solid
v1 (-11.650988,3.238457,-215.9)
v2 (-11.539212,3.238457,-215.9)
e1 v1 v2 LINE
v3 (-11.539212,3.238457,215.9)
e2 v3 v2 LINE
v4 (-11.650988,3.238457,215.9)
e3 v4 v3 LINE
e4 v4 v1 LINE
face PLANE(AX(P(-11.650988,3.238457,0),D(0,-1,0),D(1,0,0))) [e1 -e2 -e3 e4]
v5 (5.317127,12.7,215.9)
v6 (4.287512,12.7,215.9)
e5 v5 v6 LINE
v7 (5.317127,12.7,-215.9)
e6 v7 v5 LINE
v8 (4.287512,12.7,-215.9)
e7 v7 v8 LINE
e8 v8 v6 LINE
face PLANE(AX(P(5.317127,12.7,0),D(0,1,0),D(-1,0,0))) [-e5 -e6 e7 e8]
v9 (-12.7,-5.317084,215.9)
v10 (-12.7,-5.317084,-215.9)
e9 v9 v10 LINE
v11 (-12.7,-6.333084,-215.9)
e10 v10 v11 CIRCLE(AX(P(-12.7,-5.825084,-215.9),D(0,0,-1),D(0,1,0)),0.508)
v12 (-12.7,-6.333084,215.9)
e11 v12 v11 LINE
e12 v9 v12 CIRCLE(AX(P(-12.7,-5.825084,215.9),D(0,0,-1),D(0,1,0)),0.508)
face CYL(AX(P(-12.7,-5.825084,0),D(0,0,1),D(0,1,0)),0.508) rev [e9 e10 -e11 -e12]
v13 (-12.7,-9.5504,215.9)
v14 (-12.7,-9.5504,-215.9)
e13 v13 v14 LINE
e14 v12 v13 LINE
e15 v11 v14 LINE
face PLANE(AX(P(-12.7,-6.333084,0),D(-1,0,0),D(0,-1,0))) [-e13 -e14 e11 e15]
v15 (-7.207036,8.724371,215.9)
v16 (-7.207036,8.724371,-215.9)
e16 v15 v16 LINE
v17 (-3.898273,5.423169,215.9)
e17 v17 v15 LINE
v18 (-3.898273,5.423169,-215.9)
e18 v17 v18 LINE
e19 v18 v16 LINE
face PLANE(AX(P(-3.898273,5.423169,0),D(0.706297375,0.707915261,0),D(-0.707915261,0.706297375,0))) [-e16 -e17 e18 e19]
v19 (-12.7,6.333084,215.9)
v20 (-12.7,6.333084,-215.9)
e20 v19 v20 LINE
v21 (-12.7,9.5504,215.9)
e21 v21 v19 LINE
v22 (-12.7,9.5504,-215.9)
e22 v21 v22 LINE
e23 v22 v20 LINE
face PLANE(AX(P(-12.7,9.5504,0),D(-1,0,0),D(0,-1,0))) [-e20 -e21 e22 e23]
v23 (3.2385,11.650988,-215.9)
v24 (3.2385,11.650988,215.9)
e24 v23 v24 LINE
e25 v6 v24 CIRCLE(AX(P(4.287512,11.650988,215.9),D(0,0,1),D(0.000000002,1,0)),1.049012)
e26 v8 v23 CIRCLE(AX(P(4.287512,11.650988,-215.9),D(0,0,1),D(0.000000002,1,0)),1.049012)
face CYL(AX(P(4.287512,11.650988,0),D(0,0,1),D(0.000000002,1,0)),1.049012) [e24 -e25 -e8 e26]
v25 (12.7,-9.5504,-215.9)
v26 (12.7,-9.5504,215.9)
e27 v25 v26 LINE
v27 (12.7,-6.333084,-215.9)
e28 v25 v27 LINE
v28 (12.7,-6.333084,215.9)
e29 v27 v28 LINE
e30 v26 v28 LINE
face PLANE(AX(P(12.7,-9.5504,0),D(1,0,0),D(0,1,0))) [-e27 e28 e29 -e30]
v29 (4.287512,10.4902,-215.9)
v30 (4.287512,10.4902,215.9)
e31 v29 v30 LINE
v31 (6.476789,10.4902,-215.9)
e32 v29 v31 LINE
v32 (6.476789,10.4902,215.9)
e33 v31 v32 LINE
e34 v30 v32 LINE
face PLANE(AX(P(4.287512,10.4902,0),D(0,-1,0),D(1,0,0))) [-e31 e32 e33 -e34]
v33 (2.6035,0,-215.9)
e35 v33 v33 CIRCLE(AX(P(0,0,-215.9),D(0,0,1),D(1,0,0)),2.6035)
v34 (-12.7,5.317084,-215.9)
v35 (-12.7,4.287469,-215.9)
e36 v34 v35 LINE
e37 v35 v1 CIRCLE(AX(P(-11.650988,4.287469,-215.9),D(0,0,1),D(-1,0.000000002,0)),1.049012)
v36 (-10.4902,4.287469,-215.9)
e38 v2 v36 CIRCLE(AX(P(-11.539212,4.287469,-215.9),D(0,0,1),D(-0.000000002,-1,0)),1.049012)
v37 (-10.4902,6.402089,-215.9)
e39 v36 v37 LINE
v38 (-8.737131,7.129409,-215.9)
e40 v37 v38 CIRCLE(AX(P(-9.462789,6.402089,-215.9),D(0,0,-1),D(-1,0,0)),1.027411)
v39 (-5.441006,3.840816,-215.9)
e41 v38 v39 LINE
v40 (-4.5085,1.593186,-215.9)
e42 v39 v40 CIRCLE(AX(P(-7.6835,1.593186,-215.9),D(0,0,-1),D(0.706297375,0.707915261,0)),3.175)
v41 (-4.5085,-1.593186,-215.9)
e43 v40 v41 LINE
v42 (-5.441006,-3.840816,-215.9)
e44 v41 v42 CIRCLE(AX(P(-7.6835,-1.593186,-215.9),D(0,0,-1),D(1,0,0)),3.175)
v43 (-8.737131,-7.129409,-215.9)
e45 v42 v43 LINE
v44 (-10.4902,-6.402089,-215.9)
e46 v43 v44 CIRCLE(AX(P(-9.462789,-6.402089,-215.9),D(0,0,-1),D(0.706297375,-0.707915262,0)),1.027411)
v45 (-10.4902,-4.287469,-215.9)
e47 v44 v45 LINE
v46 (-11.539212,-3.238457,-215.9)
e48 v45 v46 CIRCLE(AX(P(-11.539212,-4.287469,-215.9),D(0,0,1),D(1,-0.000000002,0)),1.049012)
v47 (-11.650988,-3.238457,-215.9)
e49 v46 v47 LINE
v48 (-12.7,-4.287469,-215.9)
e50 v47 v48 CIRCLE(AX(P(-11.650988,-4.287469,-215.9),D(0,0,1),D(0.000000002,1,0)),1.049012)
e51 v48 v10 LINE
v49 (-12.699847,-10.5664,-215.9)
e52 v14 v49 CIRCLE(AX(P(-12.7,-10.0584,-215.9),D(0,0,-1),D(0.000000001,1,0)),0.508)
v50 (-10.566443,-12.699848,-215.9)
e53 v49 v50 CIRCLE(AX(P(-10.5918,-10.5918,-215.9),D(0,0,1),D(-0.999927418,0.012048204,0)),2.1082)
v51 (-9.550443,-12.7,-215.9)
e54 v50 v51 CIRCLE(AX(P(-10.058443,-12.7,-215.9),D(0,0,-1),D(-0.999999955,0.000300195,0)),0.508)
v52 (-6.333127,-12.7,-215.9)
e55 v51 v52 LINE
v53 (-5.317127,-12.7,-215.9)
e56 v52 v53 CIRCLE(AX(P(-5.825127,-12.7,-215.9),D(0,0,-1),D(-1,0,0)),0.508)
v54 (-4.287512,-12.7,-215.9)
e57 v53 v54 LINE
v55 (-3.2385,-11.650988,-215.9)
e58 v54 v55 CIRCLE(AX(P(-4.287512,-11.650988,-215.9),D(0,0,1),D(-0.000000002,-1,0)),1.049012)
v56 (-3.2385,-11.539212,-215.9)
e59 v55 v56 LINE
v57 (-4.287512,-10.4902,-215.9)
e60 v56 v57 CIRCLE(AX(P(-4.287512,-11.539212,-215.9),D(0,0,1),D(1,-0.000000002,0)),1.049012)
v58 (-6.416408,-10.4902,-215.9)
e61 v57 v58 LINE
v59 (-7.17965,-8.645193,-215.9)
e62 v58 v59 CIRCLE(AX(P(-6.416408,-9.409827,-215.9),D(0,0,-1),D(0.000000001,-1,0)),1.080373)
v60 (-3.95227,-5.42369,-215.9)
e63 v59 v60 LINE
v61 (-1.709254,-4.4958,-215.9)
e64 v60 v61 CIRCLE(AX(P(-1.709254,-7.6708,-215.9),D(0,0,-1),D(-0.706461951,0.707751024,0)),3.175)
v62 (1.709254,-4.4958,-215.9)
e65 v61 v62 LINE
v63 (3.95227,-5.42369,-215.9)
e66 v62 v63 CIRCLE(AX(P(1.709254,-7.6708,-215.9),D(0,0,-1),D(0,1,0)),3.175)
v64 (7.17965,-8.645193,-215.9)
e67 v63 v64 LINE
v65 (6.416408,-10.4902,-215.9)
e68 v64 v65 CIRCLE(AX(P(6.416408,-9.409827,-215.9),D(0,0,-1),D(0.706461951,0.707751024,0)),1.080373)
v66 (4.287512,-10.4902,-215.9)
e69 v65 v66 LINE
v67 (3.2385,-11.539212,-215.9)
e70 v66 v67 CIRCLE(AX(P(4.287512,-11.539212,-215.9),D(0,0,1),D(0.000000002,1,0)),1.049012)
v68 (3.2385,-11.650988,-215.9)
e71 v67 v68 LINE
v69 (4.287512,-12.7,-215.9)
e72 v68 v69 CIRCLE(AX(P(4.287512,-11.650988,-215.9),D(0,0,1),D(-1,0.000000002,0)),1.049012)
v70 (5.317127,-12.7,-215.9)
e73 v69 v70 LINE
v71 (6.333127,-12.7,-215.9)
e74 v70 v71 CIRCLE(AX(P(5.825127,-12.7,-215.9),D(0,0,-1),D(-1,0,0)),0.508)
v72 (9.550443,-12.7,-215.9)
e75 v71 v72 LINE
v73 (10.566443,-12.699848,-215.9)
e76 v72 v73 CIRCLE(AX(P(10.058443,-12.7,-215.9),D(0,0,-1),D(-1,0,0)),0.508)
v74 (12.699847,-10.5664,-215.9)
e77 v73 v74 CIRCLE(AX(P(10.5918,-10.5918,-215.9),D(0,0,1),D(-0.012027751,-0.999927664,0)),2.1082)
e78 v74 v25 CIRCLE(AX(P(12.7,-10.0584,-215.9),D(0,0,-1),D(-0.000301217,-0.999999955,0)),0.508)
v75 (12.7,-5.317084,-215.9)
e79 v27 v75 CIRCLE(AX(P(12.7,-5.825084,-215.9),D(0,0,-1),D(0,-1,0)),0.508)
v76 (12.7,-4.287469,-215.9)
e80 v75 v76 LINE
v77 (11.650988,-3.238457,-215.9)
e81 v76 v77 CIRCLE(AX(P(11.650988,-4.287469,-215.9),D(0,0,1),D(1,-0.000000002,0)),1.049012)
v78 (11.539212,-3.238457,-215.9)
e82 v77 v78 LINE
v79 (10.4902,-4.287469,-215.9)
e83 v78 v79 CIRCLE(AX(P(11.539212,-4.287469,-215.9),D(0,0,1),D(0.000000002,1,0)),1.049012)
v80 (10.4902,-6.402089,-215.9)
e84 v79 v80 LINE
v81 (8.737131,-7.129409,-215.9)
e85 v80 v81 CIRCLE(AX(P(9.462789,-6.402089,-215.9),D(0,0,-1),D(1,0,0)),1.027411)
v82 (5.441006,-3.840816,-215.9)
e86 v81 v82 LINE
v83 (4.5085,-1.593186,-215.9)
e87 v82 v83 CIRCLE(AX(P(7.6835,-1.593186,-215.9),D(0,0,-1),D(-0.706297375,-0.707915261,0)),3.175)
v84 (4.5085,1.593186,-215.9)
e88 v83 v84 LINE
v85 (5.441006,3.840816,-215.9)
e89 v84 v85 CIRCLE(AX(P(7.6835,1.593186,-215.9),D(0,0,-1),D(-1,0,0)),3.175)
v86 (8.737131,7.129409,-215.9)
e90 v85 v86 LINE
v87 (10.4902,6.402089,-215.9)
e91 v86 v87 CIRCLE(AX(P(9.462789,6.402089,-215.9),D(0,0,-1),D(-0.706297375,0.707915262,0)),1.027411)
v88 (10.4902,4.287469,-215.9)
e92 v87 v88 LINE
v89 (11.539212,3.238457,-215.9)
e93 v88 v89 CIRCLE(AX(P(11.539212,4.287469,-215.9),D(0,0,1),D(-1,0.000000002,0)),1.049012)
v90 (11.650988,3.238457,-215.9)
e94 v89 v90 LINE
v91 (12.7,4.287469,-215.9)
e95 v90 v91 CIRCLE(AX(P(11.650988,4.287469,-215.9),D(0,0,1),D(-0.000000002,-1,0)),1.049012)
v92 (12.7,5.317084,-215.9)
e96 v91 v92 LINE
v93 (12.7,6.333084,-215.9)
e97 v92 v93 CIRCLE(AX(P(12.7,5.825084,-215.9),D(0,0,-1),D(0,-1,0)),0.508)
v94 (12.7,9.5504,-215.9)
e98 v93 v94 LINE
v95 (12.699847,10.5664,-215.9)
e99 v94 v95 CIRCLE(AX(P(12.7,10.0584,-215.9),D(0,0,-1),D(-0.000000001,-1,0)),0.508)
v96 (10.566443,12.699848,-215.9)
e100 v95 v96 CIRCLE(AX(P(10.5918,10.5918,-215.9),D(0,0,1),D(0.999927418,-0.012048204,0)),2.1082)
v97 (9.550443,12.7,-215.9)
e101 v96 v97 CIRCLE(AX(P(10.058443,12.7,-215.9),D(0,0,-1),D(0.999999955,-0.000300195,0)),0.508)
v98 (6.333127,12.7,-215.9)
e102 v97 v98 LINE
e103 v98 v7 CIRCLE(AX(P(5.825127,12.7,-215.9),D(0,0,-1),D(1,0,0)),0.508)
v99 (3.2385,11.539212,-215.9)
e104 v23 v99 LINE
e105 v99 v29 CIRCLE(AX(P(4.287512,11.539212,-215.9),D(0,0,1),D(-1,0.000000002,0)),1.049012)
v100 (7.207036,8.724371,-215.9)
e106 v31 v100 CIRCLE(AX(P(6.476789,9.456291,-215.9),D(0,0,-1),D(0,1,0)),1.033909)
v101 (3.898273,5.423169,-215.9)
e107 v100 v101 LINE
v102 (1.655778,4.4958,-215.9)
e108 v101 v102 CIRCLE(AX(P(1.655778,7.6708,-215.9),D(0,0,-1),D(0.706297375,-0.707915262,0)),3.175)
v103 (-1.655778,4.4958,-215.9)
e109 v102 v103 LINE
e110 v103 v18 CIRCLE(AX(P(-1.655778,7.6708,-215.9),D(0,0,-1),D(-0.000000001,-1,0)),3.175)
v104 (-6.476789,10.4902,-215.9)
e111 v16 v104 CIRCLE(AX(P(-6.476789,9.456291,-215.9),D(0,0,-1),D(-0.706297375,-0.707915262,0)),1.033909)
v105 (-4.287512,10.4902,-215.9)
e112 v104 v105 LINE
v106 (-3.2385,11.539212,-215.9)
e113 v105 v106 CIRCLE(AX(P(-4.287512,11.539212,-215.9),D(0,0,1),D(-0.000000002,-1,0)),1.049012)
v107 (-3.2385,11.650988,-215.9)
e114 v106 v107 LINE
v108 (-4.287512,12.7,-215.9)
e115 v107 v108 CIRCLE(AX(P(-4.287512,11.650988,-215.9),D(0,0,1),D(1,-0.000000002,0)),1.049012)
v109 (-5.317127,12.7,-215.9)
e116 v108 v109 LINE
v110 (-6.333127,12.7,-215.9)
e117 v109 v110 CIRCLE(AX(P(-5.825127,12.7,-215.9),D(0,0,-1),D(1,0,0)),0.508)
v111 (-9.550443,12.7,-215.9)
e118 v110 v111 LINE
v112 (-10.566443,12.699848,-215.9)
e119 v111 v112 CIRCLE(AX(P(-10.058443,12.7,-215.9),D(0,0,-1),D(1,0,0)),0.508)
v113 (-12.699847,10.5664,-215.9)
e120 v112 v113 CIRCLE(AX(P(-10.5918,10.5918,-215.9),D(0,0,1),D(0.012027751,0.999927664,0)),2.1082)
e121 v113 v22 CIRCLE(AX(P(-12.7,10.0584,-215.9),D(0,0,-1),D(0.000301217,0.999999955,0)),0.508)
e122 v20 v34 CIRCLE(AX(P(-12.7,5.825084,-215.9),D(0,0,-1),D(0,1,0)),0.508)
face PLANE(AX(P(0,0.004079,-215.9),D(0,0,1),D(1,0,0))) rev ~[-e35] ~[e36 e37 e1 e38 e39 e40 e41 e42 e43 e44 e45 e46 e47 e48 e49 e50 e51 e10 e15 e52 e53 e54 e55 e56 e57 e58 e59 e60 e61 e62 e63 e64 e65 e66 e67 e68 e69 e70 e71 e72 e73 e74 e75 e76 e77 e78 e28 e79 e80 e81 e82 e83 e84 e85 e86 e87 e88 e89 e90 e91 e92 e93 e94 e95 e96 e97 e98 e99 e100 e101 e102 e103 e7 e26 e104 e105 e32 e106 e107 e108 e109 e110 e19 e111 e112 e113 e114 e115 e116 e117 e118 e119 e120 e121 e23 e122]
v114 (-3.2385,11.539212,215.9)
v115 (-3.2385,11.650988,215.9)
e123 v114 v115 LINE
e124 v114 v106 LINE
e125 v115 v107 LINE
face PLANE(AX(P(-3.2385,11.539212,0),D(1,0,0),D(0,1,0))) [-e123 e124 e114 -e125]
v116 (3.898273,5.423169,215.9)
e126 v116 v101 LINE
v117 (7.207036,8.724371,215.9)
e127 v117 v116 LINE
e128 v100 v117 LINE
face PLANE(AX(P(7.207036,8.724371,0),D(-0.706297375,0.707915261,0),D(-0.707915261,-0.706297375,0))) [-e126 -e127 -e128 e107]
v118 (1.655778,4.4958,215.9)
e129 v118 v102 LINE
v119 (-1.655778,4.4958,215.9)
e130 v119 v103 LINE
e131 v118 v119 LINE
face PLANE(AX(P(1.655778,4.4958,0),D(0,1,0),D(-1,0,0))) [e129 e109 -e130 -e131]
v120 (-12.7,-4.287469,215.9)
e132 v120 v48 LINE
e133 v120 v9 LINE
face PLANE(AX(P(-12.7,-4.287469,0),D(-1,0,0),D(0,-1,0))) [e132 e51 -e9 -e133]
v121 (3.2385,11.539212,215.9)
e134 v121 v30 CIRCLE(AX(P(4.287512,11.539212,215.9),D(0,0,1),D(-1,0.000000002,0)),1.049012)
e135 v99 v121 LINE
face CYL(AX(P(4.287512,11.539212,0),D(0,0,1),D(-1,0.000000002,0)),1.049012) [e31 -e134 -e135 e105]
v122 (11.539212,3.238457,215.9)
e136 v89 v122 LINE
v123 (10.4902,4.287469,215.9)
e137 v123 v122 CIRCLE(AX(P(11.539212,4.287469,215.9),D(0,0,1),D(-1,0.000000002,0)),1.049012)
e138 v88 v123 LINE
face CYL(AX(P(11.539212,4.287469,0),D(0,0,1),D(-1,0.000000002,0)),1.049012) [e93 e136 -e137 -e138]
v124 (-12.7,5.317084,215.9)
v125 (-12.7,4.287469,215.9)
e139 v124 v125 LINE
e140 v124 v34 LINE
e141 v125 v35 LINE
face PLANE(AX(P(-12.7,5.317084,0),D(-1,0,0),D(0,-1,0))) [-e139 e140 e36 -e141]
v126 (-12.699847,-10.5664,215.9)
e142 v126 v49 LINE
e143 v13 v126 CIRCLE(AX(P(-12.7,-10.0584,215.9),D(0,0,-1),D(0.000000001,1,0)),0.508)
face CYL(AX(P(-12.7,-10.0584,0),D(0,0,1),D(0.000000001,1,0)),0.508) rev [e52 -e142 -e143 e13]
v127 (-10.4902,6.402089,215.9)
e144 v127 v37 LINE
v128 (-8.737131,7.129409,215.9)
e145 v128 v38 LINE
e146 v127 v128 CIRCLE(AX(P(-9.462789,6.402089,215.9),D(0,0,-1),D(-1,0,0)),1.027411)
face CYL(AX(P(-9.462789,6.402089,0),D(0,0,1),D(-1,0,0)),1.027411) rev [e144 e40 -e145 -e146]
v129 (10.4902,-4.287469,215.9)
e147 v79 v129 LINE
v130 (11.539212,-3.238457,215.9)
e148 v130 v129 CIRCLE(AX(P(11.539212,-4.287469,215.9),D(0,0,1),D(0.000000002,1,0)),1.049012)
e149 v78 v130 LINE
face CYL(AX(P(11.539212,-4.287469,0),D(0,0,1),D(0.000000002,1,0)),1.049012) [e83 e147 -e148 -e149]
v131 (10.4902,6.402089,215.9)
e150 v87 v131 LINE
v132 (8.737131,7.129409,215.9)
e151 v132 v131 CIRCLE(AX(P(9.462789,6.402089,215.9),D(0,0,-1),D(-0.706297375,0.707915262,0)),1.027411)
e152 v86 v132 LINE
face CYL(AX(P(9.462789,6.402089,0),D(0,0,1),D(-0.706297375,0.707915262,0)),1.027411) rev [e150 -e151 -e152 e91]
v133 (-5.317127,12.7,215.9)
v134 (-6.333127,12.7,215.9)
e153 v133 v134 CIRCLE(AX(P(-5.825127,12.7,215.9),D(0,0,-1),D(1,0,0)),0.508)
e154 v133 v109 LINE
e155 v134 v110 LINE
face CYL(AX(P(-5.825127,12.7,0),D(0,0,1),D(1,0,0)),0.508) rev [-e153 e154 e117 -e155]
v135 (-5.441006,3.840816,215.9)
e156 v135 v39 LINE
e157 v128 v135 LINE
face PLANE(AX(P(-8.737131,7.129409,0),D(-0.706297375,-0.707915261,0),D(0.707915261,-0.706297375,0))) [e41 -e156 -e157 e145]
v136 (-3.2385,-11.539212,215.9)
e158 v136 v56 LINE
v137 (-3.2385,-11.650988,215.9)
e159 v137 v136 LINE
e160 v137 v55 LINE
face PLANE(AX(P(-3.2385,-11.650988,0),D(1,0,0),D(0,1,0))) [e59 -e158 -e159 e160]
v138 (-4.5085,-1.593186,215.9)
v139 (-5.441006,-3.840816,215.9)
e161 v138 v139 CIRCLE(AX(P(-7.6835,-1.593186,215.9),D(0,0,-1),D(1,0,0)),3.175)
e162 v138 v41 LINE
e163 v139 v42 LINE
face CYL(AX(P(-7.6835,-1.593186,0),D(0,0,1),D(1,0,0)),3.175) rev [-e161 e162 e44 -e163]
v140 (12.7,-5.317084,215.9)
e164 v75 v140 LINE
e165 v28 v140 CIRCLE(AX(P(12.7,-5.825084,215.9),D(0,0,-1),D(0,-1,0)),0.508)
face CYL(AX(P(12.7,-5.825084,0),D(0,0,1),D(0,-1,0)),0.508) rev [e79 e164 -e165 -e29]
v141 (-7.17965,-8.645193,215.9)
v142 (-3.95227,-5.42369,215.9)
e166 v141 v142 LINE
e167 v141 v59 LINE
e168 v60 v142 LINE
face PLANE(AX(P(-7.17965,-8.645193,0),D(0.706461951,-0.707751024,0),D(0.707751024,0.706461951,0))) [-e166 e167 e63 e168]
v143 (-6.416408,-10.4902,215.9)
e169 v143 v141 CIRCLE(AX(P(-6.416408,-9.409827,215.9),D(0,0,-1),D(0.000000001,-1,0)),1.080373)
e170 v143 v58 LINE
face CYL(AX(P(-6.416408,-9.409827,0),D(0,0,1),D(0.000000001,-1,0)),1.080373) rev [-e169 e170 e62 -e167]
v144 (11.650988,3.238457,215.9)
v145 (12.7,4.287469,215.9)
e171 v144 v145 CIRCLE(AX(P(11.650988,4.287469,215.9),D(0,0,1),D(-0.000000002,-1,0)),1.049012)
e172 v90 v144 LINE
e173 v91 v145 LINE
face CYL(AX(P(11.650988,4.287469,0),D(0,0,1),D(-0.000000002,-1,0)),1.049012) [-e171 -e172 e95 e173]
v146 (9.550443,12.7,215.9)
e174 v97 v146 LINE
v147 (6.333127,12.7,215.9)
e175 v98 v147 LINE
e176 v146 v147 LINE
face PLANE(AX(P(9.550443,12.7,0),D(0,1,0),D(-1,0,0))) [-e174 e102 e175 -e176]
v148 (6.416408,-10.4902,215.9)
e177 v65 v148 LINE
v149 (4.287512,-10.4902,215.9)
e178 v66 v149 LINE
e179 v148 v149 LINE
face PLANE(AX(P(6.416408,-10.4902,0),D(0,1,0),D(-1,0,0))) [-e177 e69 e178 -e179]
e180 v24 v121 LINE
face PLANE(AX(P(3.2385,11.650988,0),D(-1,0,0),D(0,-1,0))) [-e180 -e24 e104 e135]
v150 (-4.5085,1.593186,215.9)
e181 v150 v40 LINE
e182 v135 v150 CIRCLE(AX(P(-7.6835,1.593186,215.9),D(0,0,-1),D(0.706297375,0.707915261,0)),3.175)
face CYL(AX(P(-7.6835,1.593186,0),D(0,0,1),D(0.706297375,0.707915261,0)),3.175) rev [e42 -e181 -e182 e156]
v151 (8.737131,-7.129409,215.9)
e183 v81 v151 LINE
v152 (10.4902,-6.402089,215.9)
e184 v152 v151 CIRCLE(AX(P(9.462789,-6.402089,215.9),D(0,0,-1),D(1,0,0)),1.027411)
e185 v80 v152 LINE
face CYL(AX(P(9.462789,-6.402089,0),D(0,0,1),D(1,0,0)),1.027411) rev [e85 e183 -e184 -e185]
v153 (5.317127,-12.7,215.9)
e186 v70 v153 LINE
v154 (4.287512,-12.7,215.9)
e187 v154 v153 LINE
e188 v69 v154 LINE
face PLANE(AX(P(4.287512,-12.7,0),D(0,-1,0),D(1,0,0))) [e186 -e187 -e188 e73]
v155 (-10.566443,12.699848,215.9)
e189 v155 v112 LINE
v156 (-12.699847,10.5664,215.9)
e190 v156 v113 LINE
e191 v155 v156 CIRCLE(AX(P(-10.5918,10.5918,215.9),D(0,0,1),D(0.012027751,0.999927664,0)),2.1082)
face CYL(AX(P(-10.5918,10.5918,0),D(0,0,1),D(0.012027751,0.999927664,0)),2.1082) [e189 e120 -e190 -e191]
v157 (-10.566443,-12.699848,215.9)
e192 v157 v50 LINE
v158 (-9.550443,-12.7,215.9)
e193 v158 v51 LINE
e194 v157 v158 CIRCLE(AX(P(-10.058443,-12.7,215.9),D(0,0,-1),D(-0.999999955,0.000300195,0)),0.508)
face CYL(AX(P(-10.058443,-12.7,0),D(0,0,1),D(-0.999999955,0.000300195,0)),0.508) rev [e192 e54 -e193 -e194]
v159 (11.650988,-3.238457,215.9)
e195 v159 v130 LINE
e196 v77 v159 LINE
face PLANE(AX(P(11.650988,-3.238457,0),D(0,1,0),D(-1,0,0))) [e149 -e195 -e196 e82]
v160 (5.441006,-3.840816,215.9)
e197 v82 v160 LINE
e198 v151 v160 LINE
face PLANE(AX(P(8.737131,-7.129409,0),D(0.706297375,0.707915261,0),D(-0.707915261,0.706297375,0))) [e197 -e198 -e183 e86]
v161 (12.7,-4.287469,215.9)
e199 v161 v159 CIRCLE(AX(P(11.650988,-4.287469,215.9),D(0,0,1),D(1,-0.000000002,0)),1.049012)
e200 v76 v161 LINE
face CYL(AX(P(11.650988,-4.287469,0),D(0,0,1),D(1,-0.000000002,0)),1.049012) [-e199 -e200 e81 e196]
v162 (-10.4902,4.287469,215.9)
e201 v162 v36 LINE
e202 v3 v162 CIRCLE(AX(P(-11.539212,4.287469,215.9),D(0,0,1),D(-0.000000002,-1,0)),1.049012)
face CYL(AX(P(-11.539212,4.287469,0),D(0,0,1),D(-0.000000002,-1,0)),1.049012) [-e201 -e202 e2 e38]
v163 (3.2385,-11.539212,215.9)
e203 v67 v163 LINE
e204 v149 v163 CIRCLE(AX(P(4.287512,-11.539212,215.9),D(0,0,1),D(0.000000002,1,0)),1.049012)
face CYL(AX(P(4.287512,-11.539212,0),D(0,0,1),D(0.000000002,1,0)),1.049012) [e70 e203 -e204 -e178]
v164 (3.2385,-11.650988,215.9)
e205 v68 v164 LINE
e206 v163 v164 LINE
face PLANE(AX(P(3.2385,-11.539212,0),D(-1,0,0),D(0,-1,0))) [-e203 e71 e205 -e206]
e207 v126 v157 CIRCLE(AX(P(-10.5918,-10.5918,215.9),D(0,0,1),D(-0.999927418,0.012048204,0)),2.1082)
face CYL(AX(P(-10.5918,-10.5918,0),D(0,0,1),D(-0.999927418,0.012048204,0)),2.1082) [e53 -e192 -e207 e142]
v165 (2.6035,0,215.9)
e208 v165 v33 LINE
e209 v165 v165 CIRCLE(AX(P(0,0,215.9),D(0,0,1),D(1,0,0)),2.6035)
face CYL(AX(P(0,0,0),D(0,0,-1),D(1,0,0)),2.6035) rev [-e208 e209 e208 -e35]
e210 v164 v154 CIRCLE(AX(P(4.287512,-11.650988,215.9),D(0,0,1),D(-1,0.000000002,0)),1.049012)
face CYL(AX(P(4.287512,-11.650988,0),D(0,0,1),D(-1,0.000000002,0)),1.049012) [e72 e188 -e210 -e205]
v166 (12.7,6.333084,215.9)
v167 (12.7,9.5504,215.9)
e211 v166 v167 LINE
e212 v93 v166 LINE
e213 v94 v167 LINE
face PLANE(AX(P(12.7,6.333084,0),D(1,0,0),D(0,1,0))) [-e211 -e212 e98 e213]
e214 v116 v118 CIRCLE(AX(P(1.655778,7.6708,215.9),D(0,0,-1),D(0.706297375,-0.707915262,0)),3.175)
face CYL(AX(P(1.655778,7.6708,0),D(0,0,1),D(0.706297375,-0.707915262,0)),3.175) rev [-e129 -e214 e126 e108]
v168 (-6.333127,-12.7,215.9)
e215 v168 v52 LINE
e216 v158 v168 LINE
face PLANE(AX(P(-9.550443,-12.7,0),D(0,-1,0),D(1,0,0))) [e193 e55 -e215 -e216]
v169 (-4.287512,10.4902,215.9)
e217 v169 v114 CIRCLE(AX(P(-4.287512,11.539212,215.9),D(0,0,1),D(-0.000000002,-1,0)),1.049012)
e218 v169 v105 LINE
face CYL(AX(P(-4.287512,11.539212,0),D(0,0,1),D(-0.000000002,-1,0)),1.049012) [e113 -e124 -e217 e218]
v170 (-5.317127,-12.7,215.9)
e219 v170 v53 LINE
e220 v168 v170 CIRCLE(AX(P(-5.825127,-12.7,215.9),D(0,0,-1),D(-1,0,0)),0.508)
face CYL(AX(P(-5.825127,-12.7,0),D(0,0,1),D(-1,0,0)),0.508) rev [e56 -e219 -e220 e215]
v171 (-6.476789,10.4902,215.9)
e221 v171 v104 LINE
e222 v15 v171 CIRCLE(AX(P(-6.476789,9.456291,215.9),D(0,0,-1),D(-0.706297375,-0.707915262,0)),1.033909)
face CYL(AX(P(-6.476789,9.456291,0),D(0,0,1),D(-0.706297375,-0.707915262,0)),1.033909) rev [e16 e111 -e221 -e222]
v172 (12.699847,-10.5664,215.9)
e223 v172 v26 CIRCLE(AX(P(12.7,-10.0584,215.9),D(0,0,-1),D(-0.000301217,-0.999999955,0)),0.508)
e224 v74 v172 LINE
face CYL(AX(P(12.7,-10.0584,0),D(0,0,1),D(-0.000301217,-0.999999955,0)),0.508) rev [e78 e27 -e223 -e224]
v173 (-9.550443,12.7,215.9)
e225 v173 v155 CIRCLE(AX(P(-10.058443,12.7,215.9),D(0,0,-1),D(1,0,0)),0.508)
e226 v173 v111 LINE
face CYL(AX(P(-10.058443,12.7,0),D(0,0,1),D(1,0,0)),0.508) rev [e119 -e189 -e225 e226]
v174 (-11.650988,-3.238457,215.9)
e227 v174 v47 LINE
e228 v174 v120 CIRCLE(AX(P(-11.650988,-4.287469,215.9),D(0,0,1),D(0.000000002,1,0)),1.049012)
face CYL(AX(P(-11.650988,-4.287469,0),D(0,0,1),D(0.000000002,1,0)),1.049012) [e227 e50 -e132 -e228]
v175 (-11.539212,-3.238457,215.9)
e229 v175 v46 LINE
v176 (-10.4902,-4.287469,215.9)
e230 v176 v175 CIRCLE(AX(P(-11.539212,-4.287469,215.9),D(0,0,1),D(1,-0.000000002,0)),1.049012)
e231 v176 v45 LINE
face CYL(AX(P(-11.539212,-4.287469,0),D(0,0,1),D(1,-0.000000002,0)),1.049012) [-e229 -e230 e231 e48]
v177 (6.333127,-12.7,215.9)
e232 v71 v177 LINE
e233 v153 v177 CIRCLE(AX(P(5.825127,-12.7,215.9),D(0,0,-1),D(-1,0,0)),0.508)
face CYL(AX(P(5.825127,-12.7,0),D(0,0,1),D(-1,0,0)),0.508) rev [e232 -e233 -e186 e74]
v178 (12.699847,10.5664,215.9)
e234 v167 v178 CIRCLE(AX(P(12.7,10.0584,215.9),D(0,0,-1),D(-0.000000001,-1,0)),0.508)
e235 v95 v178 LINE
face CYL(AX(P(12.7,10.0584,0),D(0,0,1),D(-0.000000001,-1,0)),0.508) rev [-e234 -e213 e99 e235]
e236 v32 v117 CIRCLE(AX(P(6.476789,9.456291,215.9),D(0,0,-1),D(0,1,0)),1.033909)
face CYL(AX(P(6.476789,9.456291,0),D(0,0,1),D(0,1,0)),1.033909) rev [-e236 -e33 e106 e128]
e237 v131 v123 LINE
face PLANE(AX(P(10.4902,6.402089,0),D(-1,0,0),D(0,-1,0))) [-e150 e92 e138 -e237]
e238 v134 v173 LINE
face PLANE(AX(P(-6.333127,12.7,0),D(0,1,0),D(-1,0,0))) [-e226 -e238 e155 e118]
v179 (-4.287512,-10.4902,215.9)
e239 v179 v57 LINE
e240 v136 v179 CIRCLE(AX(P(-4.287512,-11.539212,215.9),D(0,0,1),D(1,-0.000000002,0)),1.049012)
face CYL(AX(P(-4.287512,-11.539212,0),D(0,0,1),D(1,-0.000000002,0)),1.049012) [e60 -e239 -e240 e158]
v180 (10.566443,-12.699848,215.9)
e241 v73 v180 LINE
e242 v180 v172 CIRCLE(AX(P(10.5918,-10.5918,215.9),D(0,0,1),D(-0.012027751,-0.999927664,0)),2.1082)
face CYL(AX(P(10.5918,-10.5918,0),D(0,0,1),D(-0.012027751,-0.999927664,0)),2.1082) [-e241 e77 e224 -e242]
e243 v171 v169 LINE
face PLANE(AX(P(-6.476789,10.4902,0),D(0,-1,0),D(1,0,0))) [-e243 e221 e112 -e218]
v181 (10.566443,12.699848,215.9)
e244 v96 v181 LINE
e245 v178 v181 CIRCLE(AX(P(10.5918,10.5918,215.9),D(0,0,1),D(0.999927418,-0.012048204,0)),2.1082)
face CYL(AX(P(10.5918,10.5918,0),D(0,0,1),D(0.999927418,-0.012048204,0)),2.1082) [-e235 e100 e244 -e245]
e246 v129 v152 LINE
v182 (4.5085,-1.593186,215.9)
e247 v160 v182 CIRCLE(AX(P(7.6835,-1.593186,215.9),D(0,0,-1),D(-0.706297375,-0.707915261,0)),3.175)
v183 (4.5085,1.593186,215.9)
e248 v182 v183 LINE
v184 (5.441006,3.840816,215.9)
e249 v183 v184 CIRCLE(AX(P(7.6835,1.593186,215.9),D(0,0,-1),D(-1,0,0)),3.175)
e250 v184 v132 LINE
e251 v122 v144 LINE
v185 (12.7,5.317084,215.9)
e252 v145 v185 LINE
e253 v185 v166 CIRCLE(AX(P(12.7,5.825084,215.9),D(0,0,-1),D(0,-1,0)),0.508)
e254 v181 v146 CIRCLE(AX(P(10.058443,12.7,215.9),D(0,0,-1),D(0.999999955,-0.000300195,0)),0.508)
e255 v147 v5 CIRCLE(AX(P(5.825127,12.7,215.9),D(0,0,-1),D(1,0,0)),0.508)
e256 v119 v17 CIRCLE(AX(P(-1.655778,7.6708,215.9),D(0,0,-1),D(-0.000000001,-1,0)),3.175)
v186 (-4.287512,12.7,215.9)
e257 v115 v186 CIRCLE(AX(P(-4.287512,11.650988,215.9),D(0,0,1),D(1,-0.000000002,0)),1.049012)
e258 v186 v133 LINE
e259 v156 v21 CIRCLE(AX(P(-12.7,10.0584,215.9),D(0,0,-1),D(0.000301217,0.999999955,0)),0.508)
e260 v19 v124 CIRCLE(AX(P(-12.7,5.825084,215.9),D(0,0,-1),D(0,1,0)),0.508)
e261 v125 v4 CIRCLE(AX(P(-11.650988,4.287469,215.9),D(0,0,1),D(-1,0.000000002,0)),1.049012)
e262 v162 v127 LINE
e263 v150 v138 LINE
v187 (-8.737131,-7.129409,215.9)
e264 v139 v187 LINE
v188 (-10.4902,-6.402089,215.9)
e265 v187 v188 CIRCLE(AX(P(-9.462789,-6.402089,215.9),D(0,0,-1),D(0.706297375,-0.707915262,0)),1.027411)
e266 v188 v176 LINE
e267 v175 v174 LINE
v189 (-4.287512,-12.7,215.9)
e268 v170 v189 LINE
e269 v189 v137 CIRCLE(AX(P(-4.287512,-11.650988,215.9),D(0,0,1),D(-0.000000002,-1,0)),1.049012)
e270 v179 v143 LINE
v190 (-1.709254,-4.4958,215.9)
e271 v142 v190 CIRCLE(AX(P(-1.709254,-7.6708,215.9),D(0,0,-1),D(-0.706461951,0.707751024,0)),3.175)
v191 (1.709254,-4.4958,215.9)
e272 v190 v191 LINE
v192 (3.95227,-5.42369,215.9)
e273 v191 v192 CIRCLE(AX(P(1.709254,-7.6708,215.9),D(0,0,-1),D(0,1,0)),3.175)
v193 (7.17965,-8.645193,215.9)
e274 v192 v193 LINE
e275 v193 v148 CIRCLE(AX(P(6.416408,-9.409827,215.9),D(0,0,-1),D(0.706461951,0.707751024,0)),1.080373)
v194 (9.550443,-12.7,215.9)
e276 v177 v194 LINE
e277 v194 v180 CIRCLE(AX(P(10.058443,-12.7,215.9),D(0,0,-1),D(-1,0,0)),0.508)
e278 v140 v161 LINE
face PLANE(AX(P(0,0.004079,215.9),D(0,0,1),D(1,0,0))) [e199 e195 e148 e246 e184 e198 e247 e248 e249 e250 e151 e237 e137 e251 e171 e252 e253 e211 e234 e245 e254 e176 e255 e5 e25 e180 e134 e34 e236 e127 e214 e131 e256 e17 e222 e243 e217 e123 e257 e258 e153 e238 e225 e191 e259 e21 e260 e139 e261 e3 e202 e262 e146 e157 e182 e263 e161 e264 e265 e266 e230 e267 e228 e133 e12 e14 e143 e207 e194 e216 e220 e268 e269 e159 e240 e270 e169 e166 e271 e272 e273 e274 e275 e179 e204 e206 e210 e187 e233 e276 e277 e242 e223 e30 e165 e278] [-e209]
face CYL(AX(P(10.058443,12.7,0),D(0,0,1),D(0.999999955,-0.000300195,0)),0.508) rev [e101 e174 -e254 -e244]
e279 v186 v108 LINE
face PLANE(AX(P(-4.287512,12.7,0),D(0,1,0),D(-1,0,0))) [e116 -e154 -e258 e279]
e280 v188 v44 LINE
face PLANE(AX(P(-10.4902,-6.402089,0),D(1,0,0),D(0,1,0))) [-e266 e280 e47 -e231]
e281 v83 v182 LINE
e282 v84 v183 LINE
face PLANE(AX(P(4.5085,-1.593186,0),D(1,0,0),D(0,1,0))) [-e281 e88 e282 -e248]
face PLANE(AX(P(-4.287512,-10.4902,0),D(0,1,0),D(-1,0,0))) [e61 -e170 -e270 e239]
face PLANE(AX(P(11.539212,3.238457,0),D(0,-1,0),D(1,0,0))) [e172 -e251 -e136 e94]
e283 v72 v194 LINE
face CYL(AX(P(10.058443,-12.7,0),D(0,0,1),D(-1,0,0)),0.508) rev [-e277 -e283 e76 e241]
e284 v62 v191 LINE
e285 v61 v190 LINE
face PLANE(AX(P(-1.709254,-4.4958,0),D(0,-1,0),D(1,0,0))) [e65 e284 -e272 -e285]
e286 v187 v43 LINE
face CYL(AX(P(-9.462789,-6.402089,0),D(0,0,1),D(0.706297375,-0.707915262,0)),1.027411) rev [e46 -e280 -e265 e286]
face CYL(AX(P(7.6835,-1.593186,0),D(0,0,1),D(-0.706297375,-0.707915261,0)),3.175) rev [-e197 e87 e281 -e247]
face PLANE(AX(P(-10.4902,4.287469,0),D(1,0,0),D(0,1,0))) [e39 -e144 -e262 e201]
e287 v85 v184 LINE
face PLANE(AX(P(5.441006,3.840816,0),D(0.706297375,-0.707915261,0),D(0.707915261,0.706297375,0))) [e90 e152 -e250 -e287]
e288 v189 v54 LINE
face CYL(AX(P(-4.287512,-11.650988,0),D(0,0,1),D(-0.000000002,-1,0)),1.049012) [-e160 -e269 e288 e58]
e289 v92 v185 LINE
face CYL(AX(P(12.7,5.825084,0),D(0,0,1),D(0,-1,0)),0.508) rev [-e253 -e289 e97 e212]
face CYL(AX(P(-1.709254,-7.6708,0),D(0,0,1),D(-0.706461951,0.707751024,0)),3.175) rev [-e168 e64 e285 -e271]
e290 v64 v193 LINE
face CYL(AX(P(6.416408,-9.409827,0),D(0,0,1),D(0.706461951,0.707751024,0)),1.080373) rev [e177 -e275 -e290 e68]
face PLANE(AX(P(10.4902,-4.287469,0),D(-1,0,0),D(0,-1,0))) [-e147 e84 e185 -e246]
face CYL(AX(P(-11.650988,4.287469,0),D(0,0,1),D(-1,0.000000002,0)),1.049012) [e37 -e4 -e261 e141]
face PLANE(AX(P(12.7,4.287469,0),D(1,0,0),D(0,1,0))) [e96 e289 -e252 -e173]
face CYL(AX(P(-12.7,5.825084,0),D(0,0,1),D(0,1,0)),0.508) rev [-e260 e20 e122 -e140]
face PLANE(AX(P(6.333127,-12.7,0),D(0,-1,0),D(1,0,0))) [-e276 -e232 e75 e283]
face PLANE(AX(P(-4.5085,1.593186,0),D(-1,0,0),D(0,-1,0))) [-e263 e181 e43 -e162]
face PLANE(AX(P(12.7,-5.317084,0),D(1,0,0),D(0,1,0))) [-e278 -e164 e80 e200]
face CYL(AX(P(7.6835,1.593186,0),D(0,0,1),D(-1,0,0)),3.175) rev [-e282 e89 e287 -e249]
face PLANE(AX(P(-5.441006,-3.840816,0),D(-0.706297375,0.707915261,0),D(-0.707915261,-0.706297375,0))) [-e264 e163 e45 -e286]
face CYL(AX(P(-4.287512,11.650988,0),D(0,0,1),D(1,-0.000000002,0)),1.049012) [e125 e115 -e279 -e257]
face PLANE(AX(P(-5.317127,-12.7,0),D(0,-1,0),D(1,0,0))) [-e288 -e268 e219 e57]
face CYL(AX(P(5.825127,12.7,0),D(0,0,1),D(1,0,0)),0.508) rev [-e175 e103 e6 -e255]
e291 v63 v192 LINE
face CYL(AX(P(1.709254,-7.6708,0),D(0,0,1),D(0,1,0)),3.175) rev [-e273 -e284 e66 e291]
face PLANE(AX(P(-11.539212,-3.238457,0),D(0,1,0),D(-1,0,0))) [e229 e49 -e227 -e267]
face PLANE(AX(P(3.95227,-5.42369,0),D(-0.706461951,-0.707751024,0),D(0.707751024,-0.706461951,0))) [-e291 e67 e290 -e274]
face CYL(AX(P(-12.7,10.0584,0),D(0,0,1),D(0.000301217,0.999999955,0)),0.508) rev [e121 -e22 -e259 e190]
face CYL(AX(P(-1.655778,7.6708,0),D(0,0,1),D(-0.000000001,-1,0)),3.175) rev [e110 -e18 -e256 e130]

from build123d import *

# Parameters (mm, degrees)
SKETCH1_R           = 2.6035
BOSS_EXTRUDE1_DEPTH = 215.9


with BuildPart() as part:
    # Sketch1 → Boss-Extrude1 (new body, symmetric)
    with BuildSketch(Plane.XY):
        with BuildLine():
            Line((-7.179650497, -8.645192506), (-3.952270251, -5.423690499))
            ThreePointArc((-3.952270251, -5.423690499), (-2.922936451, -4.736929036), (-1.709253557, -4.4958))
            Line((-1.709253557, -4.4958), (1.709253557, -4.4958))
            ThreePointArc((1.709253557, -4.4958), (2.922936451, -4.736929036), (3.952270251, -5.423690499))
            Line((3.952270251, -5.423690499), (7.179650497, -8.645192506))
            ThreePointArc((7.179650497, -8.645192506), (7.41473083, -9.822813117), (6.416408329, -10.4902))
            Line((6.416408329, -10.4902), (4.287512407, -10.4902))
            ThreePointArc((4.287512407, -10.4902), (3.54574862, -10.79744862), (3.2385, -11.539212407))
            Line((3.2385, -11.539212407), (3.2385, -11.650987593))
            ThreePointArc((3.2385, -11.650987593), (3.54574862, -12.39275138), (4.287512407, -12.7))
            Line((4.287512407, -12.7), (5.317126718, -12.7))
            ThreePointArc((5.317126718, -12.7), (5.825126718, -12.192), (6.333126718, -12.7))
            Line((6.333126718, -12.7), (9.550443118, -12.7))
            ThreePointArc((9.550443118, -12.7), (10.058366869, -12.192000006), (10.566443095, -12.699847501))
            ThreePointArc((10.566443095, -12.699847501), (12.082537762, -12.08250727), (12.699846982, -10.566399977))
            ThreePointArc((12.699846982, -10.566399977), (12.192000006, -10.058323491), (12.7, -9.5504))
            Line((12.7, -9.5504), (12.7, -6.3330836))
            ThreePointArc((12.7, -6.3330836), (12.192, -5.8250836), (12.7, -5.3170836))
            Line((12.7, -5.3170836), (12.7, -4.287469289))
            ThreePointArc((12.7, -4.287469289), (12.39275138, -3.545705502), (11.650987593, -3.238456882))
            Line((11.650987593, -3.238456882), (11.539212407, -3.238456882))
            ThreePointArc((11.539212407, -3.238456882), (10.79744862, -3.545705502), (10.4902, -4.287469289))
            Line((10.4902, -4.287469289), (10.4902, -6.402089023))
            ThreePointArc((10.4902, -6.402089023), (9.856505071, -7.351067942), (8.737131347, -7.129408934))
            Line((8.737131347, -7.129408934), (5.441005833, -3.840816462))
            ThreePointArc((5.441005833, -3.840816462), (4.750877967, -2.809883091), (4.5085, -1.593185507))
            Line((4.5085, -1.593185507), (4.5085, 1.593185507))
            ThreePointArc((4.5085, 1.593185507), (4.750877967, 2.809883091), (5.441005833, 3.840816462))
            Line((5.441005833, 3.840816462), (8.737131347, 7.129408934))
            ThreePointArc((8.737131347, 7.129408934), (9.856505071, 7.351067942), (10.4902, 6.402089023))
            Line((10.4902, 6.402089023), (10.4902, 4.287469289))
            ThreePointArc((10.4902, 4.287469289), (10.79744862, 3.545705502), (11.539212407, 3.238456882))
            Line((11.539212407, 3.238456882), (11.650987593, 3.238456882))
            ThreePointArc((11.650987593, 3.238456882), (12.39275138, 3.545705502), (12.7, 4.287469289))
            Line((12.7, 4.287469289), (12.7, 5.3170836))
            ThreePointArc((12.7, 5.3170836), (12.192, 5.8250836), (12.7, 6.3330836))
            Line((12.7, 6.3330836), (12.7, 9.5504))
            ThreePointArc((12.7, 9.5504), (12.192000006, 10.058323491), (12.699846982, 10.566399977))
            ThreePointArc((12.699846982, 10.566399977), (12.082537762, 12.08250727), (10.566443095, 12.699847501))
            ThreePointArc((10.566443095, 12.699847501), (10.058366869, 12.192000006), (9.550443118, 12.7))
            Line((9.550443118, 12.7), (6.333126718, 12.7))
            ThreePointArc((6.333126718, 12.7), (5.825126718, 12.192), (5.317126718, 12.7))
            Line((5.317126718, 12.7), (4.287512407, 12.7))
            ThreePointArc((4.287512407, 12.7), (3.54574862, 12.39275138), (3.2385, 11.650987593))
            Line((3.2385, 11.650987593), (3.2385, 11.539212407))
            ThreePointArc((3.2385, 11.539212407), (3.54574862, 10.79744862), (4.287512407, 10.4902))
            Line((4.287512407, 10.4902), (6.476788598, 10.4902))
            ThreePointArc((6.476788598, 10.4902), (7.432222385, 9.85140422), (7.207036008, 8.724370562))
            Line((7.207036008, 8.724370562), (3.898272566, 5.423169045))
            ThreePointArc((3.898272566, 5.423169045), (2.869120213, 4.736787962), (1.655778399, 4.4958))
            Line((1.655778399, 4.4958), (-1.655778399, 4.4958))
            ThreePointArc((-1.655778399, 4.4958), (-2.869120213, 4.736787962), (-3.898272566, 5.423169045))
            Line((-3.898272566, 5.423169045), (-7.207036008, 8.724370562))
            ThreePointArc((-7.207036008, 8.724370562), (-7.432222385, 9.85140422), (-6.476788598, 10.4902))
            Line((-6.476788598, 10.4902), (-4.287512407, 10.4902))
            ThreePointArc((-4.287512407, 10.4902), (-3.54574862, 10.79744862), (-3.2385, 11.539212407))
            Line((-3.2385, 11.539212407), (-3.2385, 11.650987593))
            ThreePointArc((-3.2385, 11.650987593), (-3.54574862, 12.39275138), (-4.287512407, 12.7))
            Line((-4.287512407, 12.7), (-5.317126718, 12.7))
            ThreePointArc((-5.317126718, 12.7), (-5.825126718, 12.192), (-6.333126718, 12.7))
            Line((-6.333126718, 12.7), (-9.550443118, 12.7))
            ThreePointArc((-9.550443118, 12.7), (-10.058366869, 12.192000006), (-10.566443095, 12.699847501))
            ThreePointArc((-10.566443095, 12.699847501), (-12.082537762, 12.08250727), (-12.699846982, 10.566399977))
            ThreePointArc((-12.699846982, 10.566399977), (-12.192000006, 10.058323491), (-12.7, 9.5504))
            Line((-12.7, 9.5504), (-12.7, 6.3330836))
            ThreePointArc((-12.7, 6.3330836), (-12.192, 5.8250836), (-12.7, 5.3170836))
            Line((-12.7, 5.3170836), (-12.7, 4.287469289))
            ThreePointArc((-12.7, 4.287469289), (-12.39275138, 3.545705502), (-11.650987593, 3.238456882))
            Line((-11.650987593, 3.238456882), (-11.539212407, 3.238456882))
            ThreePointArc((-11.539212407, 3.238456882), (-10.79744862, 3.545705502), (-10.4902, 4.287469289))
            Line((-10.4902, 4.287469289), (-10.4902, 6.402089023))
            ThreePointArc((-10.4902, 6.402089023), (-9.856505071, 7.351067942), (-8.737131347, 7.129408934))
            Line((-8.737131347, 7.129408934), (-5.441005833, 3.840816462))
            ThreePointArc((-5.441005833, 3.840816462), (-4.750877967, 2.809883091), (-4.5085, 1.593185507))
            Line((-4.5085, 1.593185507), (-4.5085, -1.593185507))
            ThreePointArc((-4.5085, -1.593185507), (-4.750877967, -2.809883091), (-5.441005833, -3.840816462))
            Line((-5.441005833, -3.840816462), (-8.737131347, -7.129408934))
            ThreePointArc((-8.737131347, -7.129408934), (-9.856505071, -7.351067942), (-10.4902, -6.402089023))
            Line((-10.4902, -6.402089023), (-10.4902, -4.287469289))
            ThreePointArc((-10.4902, -4.287469289), (-10.79744862, -3.545705502), (-11.539212407, -3.238456882))
            Line((-11.539212407, -3.238456882), (-11.650987593, -3.238456882))
            ThreePointArc((-11.650987593, -3.238456882), (-12.39275138, -3.545705502), (-12.7, -4.287469289))
            Line((-12.7, -4.287469289), (-12.7, -5.3170836))
            ThreePointArc((-12.7, -5.3170836), (-12.192, -5.8250836), (-12.7, -6.3330836))
            Line((-12.7, -6.3330836), (-12.7, -9.5504))
            ThreePointArc((-12.7, -9.5504), (-12.192000006, -10.058323491), (-12.699846982, -10.566399977))
            ThreePointArc((-12.699846982, -10.566399977), (-12.082537762, -12.08250727), (-10.566443095, -12.699847501))
            ThreePointArc((-10.566443095, -12.699847501), (-10.058366869, -12.192000006), (-9.550443118, -12.7))
            Line((-9.550443118, -12.7), (-6.333126718, -12.7))
            ThreePointArc((-6.333126718, -12.7), (-5.825126718, -12.192), (-5.317126718, -12.7))
            Line((-5.317126718, -12.7), (-4.287512407, -12.7))
            ThreePointArc((-4.287512407, -12.7), (-3.54574862, -12.39275138), (-3.2385, -11.650987593))
            Line((-3.2385, -11.650987593), (-3.2385, -11.539212407))
            ThreePointArc((-3.2385, -11.539212407), (-3.54574862, -10.79744862), (-4.287512407, -10.4902))
            Line((-4.287512407, -10.4902), (-6.416408329, -10.4902))
            ThreePointArc((-6.416408329, -10.4902), (-7.41473083, -9.822813117), (-7.179650497, -8.645192506))
        make_face()
        Circle(SKETCH1_R, mode=Mode.SUBTRACT)
    extrude(amount=BOSS_EXTRUDE1_DEPTH, both=True)


solid = part.part
